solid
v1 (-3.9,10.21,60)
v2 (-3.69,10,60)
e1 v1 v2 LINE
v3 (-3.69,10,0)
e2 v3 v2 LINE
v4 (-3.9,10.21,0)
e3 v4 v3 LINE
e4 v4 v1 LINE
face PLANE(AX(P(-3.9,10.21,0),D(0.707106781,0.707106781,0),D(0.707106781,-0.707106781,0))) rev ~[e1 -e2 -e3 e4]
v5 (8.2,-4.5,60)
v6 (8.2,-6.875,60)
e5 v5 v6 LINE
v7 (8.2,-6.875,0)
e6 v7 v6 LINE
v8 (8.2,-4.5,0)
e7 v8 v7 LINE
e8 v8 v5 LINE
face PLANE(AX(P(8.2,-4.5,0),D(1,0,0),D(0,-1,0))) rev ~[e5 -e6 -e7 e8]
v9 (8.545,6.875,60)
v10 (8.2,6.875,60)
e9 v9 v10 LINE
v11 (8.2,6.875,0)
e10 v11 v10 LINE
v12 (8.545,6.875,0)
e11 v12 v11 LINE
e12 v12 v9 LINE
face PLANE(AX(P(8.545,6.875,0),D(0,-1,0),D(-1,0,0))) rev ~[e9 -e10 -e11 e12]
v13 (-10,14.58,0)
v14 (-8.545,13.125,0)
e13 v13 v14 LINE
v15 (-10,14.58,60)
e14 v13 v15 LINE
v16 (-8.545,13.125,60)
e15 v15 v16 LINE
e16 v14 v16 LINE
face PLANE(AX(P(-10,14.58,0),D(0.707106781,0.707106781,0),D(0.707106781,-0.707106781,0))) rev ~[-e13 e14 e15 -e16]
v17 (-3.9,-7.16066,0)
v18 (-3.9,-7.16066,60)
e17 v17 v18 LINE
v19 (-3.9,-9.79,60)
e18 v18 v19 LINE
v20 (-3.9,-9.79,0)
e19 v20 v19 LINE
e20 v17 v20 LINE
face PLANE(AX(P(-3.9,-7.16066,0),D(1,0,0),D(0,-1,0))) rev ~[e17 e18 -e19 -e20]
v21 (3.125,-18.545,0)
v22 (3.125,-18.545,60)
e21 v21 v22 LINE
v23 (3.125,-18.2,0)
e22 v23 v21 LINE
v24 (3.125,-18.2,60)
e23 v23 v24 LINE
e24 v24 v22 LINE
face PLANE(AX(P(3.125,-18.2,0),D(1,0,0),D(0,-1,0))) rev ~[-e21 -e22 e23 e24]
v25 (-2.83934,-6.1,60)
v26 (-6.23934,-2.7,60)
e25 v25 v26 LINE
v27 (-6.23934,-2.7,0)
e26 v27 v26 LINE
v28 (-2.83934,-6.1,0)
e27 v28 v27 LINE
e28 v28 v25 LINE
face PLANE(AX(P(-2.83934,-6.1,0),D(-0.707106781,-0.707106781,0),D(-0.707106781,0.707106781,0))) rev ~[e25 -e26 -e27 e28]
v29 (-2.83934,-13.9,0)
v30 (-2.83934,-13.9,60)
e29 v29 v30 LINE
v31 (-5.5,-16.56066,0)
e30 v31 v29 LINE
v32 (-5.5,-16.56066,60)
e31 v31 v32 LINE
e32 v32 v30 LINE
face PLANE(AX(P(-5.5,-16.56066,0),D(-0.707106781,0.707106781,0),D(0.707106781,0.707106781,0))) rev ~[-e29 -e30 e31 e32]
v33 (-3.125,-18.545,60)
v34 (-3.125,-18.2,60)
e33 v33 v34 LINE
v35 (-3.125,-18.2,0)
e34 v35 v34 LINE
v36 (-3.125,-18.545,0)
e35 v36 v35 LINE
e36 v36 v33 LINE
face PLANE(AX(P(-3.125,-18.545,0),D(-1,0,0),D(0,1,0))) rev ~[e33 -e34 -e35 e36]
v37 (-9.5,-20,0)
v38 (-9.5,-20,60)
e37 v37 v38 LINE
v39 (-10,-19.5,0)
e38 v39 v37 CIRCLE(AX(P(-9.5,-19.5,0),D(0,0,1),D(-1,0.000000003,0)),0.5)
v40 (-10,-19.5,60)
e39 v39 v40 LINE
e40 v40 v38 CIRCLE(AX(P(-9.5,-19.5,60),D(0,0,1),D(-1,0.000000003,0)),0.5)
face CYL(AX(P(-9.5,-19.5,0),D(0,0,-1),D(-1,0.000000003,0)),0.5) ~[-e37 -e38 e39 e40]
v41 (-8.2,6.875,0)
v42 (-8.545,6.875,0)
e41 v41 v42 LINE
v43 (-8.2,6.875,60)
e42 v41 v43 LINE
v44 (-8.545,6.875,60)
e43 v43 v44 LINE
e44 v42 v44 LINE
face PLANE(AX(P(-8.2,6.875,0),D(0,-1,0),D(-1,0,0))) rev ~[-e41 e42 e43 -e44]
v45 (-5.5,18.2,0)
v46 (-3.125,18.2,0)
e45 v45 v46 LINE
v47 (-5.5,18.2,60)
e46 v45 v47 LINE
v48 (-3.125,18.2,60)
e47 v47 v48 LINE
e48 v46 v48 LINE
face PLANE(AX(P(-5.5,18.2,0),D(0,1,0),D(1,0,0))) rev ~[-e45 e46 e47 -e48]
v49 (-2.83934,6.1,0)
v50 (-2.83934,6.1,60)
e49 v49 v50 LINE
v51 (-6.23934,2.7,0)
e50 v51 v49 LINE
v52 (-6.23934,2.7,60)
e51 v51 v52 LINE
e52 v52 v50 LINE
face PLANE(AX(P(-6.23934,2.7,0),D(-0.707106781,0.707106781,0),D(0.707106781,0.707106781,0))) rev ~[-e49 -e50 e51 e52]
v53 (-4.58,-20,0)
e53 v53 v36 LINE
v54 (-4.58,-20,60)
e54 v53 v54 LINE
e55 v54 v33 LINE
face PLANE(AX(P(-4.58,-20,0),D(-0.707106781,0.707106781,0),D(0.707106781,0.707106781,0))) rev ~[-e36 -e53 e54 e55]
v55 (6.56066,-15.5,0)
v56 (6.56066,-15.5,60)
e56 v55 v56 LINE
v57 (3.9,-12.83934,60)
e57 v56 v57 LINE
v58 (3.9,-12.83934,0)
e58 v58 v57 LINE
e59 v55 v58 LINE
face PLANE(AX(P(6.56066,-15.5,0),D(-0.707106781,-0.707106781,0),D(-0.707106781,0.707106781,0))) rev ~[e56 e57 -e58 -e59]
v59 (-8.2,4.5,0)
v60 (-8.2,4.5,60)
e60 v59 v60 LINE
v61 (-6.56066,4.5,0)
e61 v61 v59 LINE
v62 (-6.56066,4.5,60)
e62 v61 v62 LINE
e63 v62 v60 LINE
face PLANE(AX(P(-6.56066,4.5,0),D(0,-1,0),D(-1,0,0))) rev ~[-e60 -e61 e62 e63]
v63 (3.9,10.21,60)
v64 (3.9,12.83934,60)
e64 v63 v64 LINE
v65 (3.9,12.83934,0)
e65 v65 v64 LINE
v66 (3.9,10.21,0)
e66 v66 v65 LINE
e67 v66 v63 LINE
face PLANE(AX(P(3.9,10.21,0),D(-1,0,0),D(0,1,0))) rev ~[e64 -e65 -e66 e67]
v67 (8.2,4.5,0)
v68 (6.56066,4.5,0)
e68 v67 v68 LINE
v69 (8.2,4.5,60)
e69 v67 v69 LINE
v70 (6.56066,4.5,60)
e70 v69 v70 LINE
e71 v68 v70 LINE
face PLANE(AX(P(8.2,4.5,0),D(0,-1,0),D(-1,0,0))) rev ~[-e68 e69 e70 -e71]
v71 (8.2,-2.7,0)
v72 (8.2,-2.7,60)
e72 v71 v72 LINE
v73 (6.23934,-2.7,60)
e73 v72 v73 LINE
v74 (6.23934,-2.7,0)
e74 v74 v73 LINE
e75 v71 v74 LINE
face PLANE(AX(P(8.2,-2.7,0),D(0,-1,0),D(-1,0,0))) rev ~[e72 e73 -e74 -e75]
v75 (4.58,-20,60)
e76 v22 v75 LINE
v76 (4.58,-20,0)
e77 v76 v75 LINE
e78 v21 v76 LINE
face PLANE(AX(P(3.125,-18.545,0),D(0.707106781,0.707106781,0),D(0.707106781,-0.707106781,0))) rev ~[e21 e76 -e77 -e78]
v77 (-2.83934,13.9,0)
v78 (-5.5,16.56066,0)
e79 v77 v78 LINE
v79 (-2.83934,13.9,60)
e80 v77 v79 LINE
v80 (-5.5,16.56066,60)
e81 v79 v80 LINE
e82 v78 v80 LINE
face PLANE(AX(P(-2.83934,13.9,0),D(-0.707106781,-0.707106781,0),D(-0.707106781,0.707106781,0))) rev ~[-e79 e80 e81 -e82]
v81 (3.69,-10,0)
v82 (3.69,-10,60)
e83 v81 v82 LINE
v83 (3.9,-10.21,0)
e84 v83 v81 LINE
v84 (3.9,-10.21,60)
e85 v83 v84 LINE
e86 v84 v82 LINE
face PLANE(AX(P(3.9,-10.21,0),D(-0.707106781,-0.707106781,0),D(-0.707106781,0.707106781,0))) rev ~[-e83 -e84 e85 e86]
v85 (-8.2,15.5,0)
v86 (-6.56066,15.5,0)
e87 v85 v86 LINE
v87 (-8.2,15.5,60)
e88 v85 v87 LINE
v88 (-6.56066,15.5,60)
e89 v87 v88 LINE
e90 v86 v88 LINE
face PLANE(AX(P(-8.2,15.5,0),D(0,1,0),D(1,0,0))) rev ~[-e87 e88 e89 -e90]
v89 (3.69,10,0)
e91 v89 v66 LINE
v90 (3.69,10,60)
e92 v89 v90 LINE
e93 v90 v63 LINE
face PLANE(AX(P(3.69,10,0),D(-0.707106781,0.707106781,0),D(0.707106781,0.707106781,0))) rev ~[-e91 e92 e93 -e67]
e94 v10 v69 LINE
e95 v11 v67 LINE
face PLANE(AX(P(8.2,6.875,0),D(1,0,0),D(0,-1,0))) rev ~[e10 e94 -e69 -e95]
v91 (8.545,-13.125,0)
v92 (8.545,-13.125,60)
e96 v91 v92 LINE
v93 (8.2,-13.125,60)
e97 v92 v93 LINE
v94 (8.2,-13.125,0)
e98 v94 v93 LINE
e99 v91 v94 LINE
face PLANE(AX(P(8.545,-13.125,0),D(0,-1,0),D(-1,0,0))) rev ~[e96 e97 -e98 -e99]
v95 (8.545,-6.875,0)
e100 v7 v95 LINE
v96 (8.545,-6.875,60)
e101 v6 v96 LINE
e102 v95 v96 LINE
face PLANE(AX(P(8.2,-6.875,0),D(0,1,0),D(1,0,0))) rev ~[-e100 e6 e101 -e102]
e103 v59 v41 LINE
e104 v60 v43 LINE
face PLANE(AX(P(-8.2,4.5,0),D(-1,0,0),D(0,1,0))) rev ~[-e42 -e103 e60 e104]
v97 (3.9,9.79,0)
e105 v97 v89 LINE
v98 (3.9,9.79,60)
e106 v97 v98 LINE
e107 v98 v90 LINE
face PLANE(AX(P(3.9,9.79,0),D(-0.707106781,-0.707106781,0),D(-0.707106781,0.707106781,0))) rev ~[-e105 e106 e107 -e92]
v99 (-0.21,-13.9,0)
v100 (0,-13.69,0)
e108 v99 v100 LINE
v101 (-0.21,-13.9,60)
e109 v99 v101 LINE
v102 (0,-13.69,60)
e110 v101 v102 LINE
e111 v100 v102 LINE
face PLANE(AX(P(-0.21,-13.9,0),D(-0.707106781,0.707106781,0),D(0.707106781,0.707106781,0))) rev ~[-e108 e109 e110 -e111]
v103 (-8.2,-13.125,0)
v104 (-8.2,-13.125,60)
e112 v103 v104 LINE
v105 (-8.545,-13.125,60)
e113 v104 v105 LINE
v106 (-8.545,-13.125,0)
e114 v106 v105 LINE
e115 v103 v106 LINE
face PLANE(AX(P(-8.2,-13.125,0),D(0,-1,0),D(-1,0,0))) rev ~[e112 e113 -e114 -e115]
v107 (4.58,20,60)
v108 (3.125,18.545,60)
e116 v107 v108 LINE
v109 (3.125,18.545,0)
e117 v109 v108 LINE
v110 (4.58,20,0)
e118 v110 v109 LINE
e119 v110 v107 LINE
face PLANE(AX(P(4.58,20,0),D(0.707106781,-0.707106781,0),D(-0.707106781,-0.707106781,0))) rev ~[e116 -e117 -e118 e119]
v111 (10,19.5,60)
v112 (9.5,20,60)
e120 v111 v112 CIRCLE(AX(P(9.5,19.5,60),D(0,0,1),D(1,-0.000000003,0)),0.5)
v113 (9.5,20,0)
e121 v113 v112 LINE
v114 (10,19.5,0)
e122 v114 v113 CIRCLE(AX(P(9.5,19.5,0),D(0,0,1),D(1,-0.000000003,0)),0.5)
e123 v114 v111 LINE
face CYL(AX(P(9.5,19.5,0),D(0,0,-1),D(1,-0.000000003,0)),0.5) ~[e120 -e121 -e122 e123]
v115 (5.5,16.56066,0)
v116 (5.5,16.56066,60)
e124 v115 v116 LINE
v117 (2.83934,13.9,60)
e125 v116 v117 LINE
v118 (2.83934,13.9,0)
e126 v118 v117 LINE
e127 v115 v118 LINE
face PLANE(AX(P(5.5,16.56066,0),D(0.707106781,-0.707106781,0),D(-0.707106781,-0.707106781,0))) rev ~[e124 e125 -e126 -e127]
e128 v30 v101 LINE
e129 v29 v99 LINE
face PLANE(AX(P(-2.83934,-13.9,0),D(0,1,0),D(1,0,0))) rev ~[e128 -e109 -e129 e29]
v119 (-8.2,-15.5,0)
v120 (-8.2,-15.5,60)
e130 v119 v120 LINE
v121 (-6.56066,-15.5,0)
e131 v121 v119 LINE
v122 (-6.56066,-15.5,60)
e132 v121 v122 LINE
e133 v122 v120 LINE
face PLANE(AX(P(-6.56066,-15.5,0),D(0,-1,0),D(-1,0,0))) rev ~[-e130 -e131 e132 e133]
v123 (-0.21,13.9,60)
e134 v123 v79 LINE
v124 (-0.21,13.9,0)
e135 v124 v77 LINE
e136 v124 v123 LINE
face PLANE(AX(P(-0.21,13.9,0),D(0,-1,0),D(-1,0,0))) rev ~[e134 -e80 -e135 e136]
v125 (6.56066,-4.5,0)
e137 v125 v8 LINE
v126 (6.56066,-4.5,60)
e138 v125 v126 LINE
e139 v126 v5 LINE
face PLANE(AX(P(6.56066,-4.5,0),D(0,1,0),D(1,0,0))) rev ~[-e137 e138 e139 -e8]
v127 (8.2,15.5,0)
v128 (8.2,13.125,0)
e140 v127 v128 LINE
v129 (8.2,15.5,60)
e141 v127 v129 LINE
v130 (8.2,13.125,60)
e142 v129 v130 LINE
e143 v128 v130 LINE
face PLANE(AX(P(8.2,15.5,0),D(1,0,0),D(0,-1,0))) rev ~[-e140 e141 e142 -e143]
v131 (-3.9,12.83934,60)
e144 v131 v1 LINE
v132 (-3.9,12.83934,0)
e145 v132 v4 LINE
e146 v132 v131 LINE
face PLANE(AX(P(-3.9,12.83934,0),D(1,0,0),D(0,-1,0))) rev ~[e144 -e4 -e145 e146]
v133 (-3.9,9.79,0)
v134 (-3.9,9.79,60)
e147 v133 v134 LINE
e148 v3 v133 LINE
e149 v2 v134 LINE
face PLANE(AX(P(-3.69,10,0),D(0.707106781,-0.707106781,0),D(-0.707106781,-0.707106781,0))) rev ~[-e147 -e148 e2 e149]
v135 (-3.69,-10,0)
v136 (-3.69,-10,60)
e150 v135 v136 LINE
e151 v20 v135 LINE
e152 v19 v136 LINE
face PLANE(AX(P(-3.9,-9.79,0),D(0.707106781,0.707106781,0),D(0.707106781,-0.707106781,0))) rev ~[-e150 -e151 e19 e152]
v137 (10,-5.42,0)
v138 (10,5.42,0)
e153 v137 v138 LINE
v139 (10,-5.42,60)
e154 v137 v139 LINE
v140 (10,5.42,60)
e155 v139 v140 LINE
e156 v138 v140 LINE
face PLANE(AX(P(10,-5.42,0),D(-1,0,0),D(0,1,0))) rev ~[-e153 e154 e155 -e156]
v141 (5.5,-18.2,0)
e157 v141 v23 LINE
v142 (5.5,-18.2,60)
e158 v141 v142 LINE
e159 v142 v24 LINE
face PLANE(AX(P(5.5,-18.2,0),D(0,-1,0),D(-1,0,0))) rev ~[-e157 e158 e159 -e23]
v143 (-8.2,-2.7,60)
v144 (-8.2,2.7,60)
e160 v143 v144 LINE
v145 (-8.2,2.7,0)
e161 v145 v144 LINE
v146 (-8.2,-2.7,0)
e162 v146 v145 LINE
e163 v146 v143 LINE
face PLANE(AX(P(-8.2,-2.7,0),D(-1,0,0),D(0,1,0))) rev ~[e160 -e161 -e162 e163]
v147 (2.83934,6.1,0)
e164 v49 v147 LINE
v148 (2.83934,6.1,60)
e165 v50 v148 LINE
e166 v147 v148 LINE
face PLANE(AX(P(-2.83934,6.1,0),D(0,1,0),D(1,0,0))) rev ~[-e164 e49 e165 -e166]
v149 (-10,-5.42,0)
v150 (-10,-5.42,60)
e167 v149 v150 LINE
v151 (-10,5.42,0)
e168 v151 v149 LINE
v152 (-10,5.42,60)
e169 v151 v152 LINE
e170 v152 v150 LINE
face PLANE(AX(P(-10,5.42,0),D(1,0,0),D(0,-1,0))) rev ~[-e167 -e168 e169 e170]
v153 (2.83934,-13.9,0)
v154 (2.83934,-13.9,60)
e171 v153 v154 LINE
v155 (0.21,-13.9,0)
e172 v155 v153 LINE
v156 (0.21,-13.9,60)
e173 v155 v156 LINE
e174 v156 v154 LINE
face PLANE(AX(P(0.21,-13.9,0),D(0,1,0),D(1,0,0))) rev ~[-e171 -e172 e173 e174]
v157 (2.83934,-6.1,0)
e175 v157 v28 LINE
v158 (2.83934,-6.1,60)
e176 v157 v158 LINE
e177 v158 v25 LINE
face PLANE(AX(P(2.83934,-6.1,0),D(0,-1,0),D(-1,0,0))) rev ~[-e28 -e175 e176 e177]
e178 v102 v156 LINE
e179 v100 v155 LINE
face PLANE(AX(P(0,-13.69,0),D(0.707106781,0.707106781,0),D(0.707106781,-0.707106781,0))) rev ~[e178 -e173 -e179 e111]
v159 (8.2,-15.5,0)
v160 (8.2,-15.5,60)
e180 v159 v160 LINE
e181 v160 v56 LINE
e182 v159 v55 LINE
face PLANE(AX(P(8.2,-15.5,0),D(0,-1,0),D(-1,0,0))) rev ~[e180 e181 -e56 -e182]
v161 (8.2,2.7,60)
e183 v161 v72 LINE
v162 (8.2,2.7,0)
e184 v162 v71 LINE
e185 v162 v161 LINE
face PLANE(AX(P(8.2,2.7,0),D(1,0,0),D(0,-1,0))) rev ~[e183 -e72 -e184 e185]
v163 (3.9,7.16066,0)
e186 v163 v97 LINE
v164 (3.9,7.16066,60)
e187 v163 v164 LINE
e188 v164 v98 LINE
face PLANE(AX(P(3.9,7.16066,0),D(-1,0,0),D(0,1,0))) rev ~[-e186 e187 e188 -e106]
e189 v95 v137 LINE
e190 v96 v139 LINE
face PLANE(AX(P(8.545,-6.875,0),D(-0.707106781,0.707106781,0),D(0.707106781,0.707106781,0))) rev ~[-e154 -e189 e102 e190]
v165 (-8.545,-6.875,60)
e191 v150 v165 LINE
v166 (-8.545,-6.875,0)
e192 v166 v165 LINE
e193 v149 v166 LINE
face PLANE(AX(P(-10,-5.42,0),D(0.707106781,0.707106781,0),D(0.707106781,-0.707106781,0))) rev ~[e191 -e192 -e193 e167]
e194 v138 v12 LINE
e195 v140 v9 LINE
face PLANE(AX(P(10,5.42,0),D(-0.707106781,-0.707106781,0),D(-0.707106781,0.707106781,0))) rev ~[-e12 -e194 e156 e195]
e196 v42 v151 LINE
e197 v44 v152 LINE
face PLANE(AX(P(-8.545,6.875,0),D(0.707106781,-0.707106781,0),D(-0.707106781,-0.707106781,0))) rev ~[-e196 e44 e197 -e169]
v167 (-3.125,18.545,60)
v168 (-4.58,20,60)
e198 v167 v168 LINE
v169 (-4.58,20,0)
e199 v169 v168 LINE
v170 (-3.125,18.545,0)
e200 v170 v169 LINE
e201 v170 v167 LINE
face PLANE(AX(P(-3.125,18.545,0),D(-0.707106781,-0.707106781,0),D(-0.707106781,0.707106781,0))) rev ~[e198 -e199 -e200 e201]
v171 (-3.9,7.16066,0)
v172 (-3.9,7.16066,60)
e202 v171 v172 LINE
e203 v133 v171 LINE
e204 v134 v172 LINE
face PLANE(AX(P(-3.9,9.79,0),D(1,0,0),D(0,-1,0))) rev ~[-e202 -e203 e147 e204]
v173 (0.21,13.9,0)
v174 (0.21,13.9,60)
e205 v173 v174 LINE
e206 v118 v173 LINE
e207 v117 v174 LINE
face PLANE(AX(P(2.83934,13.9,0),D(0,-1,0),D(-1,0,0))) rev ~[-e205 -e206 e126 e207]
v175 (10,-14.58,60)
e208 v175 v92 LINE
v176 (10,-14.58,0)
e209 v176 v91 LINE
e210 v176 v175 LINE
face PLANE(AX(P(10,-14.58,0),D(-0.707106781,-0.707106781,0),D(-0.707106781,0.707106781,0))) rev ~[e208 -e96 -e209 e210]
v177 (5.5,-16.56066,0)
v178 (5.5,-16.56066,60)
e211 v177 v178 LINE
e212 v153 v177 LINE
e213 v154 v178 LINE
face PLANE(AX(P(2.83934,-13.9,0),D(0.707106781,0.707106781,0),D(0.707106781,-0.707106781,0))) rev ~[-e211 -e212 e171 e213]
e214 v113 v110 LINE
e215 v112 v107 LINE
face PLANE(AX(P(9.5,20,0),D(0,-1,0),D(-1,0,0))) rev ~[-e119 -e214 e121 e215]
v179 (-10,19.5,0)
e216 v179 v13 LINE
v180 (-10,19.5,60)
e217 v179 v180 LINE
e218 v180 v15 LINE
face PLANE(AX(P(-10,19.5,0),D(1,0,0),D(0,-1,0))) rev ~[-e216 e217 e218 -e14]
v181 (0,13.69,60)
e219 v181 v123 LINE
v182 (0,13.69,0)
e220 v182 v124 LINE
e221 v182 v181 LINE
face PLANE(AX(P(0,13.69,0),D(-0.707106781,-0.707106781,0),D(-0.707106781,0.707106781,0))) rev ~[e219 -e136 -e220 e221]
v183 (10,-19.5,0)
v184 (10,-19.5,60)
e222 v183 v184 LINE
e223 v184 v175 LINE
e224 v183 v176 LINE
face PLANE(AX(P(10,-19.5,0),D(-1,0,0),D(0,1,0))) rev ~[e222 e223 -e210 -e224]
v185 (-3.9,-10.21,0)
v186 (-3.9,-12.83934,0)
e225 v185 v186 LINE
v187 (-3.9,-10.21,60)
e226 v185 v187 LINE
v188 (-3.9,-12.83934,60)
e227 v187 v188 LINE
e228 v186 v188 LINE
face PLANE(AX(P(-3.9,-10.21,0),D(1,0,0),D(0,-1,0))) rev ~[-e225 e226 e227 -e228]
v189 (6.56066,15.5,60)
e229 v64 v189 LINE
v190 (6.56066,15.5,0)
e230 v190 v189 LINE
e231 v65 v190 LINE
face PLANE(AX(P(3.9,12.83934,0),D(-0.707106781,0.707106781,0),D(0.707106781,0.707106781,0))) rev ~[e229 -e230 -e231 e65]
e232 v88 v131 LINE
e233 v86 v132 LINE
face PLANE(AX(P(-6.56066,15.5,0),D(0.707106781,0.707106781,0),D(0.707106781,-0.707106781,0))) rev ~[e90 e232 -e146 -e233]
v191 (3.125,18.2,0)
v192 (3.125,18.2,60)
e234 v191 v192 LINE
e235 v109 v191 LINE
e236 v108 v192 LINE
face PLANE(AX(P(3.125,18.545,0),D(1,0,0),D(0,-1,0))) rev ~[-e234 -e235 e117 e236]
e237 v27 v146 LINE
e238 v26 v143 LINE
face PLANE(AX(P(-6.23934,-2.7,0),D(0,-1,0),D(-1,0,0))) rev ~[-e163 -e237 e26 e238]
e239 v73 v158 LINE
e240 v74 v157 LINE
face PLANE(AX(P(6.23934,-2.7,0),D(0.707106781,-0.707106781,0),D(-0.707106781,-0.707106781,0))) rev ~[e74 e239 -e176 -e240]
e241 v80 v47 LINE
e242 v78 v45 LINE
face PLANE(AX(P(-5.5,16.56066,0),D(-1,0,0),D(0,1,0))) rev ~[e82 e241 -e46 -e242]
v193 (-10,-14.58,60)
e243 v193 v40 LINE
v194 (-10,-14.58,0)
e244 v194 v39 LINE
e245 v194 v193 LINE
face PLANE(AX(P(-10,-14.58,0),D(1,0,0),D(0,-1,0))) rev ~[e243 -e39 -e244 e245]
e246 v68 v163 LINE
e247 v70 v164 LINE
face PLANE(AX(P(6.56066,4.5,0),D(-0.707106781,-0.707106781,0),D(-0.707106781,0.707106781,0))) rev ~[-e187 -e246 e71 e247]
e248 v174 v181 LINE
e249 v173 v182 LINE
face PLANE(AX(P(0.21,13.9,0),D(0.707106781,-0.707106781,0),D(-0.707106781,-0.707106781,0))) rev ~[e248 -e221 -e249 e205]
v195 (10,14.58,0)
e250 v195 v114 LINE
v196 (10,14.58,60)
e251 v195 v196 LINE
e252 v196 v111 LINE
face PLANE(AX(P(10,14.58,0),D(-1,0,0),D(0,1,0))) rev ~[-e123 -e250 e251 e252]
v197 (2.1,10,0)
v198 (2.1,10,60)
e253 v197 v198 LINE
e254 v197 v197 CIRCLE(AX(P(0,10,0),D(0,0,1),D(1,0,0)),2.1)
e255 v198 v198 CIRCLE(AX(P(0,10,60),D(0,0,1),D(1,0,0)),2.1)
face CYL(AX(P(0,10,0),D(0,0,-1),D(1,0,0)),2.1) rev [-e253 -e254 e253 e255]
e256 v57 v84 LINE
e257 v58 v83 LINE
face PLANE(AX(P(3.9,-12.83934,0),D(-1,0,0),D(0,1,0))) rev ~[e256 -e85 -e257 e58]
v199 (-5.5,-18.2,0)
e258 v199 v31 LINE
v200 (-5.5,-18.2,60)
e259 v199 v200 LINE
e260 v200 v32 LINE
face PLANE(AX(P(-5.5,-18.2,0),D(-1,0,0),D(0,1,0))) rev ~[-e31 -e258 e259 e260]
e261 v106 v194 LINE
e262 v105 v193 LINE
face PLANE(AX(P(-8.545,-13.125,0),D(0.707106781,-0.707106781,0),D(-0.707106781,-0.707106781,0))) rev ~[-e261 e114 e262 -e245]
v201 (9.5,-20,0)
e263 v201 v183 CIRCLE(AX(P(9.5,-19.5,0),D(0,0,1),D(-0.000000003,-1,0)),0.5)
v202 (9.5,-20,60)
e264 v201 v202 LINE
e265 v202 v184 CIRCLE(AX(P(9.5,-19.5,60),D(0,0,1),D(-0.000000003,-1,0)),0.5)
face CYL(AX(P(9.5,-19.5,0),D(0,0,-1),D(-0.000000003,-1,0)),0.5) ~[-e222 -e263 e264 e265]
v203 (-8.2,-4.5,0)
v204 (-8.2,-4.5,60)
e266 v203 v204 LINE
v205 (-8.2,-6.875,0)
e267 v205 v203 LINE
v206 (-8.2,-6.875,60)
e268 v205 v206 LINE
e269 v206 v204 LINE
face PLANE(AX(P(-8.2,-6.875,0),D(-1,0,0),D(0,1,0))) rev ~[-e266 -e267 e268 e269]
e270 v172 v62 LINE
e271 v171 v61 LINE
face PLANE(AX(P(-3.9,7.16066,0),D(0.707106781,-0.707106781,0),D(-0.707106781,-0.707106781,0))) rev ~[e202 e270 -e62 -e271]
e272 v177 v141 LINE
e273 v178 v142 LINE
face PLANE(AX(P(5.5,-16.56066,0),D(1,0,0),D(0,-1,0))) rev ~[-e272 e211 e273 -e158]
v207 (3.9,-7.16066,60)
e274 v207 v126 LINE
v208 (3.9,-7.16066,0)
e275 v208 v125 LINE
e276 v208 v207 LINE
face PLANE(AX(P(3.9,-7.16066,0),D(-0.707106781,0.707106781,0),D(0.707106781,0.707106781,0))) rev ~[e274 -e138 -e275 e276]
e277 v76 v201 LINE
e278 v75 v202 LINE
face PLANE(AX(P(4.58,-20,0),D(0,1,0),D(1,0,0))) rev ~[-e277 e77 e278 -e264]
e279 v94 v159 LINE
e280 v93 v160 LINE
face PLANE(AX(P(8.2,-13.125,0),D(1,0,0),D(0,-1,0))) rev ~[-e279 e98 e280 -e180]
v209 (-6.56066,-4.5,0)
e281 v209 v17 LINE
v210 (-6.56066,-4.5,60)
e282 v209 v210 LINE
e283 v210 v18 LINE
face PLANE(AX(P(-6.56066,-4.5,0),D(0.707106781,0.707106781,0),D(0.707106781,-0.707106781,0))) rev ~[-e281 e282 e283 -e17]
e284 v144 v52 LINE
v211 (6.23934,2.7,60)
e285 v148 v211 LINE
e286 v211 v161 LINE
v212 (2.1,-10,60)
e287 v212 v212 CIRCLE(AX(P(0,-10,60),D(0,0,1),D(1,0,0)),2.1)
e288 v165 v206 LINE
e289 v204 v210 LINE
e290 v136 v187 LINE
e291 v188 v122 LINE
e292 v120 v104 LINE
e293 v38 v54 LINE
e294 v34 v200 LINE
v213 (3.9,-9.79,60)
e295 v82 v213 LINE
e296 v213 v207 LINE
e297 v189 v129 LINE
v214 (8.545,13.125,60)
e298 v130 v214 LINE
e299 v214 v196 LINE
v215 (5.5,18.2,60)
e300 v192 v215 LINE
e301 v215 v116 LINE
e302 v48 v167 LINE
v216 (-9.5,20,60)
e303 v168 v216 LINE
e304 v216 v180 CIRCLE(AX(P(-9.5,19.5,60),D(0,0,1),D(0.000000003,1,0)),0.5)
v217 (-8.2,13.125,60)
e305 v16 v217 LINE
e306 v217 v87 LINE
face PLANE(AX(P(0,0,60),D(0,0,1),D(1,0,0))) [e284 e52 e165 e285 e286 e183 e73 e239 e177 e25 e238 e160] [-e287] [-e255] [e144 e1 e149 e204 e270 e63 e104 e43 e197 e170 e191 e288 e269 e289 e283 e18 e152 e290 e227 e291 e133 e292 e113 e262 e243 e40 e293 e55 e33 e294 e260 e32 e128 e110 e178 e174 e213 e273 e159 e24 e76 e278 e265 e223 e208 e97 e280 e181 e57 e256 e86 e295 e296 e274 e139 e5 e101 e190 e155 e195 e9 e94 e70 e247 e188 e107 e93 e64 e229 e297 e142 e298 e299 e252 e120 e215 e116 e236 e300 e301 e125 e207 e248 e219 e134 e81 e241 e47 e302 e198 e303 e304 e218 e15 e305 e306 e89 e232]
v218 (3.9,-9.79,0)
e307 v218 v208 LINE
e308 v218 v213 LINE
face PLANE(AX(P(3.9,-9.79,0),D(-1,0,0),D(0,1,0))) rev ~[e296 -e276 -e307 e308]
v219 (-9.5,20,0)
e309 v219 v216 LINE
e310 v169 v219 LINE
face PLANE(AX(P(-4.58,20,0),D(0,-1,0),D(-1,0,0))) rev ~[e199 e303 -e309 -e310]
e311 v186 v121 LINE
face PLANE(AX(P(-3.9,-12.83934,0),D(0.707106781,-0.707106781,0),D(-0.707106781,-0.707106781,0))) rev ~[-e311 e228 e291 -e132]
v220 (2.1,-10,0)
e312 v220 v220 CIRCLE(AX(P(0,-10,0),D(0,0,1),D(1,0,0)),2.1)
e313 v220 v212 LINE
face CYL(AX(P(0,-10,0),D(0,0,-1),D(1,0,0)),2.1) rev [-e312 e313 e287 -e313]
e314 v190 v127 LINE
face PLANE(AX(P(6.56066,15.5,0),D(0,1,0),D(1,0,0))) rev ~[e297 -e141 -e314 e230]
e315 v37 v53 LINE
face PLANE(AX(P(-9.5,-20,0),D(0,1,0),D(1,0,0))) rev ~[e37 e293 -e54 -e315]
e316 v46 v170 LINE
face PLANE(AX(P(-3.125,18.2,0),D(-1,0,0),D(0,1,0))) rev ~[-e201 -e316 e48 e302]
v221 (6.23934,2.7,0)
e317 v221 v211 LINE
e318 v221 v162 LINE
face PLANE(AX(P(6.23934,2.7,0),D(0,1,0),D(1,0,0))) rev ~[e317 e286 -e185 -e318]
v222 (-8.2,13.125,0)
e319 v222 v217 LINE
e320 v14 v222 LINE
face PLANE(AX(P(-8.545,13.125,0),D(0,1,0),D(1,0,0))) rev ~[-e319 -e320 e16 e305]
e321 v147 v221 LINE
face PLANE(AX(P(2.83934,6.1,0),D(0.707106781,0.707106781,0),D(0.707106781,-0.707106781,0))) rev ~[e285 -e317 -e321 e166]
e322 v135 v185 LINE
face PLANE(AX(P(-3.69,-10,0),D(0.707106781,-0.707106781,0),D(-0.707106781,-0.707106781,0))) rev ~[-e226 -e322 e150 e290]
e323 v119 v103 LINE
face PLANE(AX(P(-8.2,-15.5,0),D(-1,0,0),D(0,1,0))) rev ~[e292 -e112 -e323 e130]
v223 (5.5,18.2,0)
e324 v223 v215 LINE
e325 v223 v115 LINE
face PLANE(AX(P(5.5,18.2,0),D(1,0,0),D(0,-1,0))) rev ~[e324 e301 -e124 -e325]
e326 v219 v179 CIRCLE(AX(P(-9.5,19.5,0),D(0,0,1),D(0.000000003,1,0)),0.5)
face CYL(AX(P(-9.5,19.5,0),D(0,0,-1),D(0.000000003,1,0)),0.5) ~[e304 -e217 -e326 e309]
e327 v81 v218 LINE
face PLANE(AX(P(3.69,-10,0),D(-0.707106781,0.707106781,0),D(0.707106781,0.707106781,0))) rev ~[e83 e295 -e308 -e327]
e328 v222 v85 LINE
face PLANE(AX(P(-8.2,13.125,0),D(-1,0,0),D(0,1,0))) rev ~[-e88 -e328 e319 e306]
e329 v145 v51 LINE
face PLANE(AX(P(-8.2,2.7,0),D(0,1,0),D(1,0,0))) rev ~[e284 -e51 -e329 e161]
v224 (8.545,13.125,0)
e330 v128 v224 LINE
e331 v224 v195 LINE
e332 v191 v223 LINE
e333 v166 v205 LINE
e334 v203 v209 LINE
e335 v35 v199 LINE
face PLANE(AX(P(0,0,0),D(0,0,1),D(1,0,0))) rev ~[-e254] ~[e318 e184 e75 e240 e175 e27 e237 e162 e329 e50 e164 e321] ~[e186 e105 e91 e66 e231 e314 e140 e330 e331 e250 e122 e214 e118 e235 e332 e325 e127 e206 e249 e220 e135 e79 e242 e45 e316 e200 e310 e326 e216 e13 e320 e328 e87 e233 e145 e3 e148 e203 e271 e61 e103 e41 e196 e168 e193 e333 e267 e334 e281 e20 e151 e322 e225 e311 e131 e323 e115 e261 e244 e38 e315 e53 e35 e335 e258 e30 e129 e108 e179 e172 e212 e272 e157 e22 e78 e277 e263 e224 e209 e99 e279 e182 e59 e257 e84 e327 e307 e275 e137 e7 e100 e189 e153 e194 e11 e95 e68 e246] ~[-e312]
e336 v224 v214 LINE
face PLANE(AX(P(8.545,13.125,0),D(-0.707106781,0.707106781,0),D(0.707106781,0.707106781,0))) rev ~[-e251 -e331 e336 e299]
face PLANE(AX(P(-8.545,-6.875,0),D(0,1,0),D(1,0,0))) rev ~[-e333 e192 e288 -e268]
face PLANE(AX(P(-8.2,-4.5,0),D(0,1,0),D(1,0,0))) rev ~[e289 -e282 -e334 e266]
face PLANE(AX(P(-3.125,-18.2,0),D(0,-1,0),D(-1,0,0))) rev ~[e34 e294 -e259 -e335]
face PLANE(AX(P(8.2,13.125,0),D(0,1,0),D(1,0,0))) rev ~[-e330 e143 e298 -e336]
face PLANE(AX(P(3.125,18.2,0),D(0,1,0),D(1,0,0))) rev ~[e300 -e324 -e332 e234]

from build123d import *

# Parameters (mm, degrees)
SKETCH1_R           = 2.1
BOSS_EXTRUDE1_DEPTH = 60


with BuildPart() as part:
    # Sketch1 → Boss-Extrude1 (new body)
    with BuildSketch(Plane.XY):
        with BuildLine():
            Line((4.58, -20), (9.5, -20))
            ThreePointArc((9.5, -20), (9.853553391, -19.853553391), (10, -19.5))
            Line((10, -19.5), (10, -14.58))
            Line((10, -14.58), (8.545, -13.125))
            Line((8.545, -13.125), (8.2, -13.125))
            Line((8.2, -13.125), (8.2, -15.5))
            Line((8.2, -15.5), (6.560660172, -15.5))
            Line((6.560660172, -15.5), (3.9, -12.839339828))
            Line((3.9, -12.839339828), (3.9, -10.21))
            Line((3.9, -10.21), (3.69, -10))
            Line((3.69, -10), (3.9, -9.79))
            Line((3.9, -9.79), (3.9, -7.160660172))
            Line((3.9, -7.160660172), (6.560660172, -4.5))
            Line((6.560660172, -4.5), (8.2, -4.5))
            Line((8.2, -4.5), (8.2, -6.875))
            Line((8.2, -6.875), (8.545, -6.875))
            Line((8.545, -6.875), (10, -5.42))
            Line((10, -5.42), (10, 5.42))
            Line((10, 5.42), (8.545, 6.875))
            Line((8.545, 6.875), (8.2, 6.875))
            Line((8.2, 6.875), (8.2, 4.5))
            Line((8.2, 4.5), (6.560660172, 4.5))
            Line((6.560660172, 4.5), (3.9, 7.160660172))
            Line((3.9, 7.160660172), (3.9, 9.79))
            Line((3.9, 9.79), (3.69, 10))
            Line((3.69, 10), (3.9, 10.21))
            Line((3.9, 10.21), (3.9, 12.839339828))
            Line((3.9, 12.839339828), (6.560660172, 15.5))
            Line((6.560660172, 15.5), (8.2, 15.5))
            Line((8.2, 15.5), (8.2, 13.125))
            Line((8.2, 13.125), (8.545, 13.125))
            Line((8.545, 13.125), (10, 14.58))
            Line((10, 14.58), (10, 19.5))
            ThreePointArc((10, 19.5), (9.853553391, 19.853553391), (9.5, 20))
            Line((9.5, 20), (4.58, 20))
            Line((4.58, 20), (3.125, 18.545))
            Line((3.125, 18.545), (3.125, 18.2))
            Line((3.125, 18.2), (5.5, 18.2))
            Line((5.5, 18.2), (5.5, 16.560660172))
            Line((5.5, 16.560660172), (2.839339828, 13.9))
            Line((2.839339828, 13.9), (0.21, 13.9))
            Line((0.21, 13.9), (0, 13.69))
            Line((0, 13.69), (-0.21, 13.9))
            Line((-0.21, 13.9), (-2.839339828, 13.9))
            Line((-2.839339828, 13.9), (-5.5, 16.560660172))
            Line((-5.5, 16.560660172), (-5.5, 18.2))
            Line((-5.5, 18.2), (-3.125, 18.2))
            Line((-3.125, 18.2), (-3.125, 18.545))
            Line((-3.125, 18.545), (-4.58, 20))
            Line((-4.58, 20), (-9.5, 20))
            ThreePointArc((-9.5, 20), (-9.853553391, 19.853553391), (-10, 19.5))
            Line((-10, 19.5), (-10, 14.58))
            Line((-10, 14.58), (-8.545, 13.125))
            Line((-8.545, 13.125), (-8.2, 13.125))
            Line((-8.2, 13.125), (-8.2, 15.5))
            Line((-8.2, 15.5), (-6.560660172, 15.5))
            Line((-6.560660172, 15.5), (-3.9, 12.839339828))
            Line((-3.9, 12.839339828), (-3.9, 10.21))
            Line((-3.9, 10.21), (-3.69, 10))
            Line((-3.69, 10), (-3.9, 9.79))
            Line((-3.9, 9.79), (-3.9, 7.160660172))
            Line((-3.9, 7.160660172), (-6.560660172, 4.5))
            Line((-6.560660172, 4.5), (-8.2, 4.5))
            Line((-8.2, 4.5), (-8.2, 6.875))
            Line((-8.2, 6.875), (-8.545, 6.875))
            Line((-8.545, 6.875), (-10, 5.42))
            Line((-10, 5.42), (-10, -5.42))
            Line((-10, -5.42), (-8.545, -6.875))
            Line((-8.545, -6.875), (-8.2, -6.875))
            Line((-8.2, -6.875), (-8.2, -4.5))
            Line((-8.2, -4.5), (-6.560660172, -4.5))
            Line((-6.560660172, -4.5), (-3.9, -7.160660172))
            Line((-3.9, -7.160660172), (-3.9, -9.79))
            Line((-3.9, -9.79), (-3.69, -10))
            Line((-3.69, -10), (-3.9, -10.21))
            Line((-3.9, -10.21), (-3.9, -12.839339828))
            Line((-3.9, -12.839339828), (-6.560660172, -15.5))
            Line((-6.560660172, -15.5), (-8.2, -15.5))
            Line((-8.2, -15.5), (-8.2, -13.125))
            Line((-8.2, -13.125), (-8.545, -13.125))
            Line((-8.545, -13.125), (-10, -14.58))
            Line((-10, -14.58), (-10, -19.5))
            ThreePointArc((-10, -19.5), (-9.853553391, -19.853553391), (-9.5, -20))
            Line((-9.5, -20), (-4.58, -20))
            Line((-4.58, -20), (-3.125, -18.545))
            Line((-3.125, -18.545), (-3.125, -18.2))
            Line((-3.125, -18.2), (-5.5, -18.2))
            Line((-5.5, -18.2), (-5.5, -16.560660172))
            Line((-5.5, -16.560660172), (-2.839339828, -13.9))
            Line((-2.839339828, -13.9), (-0.21, -13.9))
            Line((-0.21, -13.9), (0, -13.69))
            Line((0, -13.69), (0.21, -13.9))
            Line((0.21, -13.9), (2.839339828, -13.9))
            Line((2.839339828, -13.9), (5.5, -16.560660172))
            Line((5.5, -16.560660172), (5.5, -18.2))
            Line((5.5, -18.2), (3.125, -18.2))
            Line((3.125, -18.2), (3.125, -18.545))
            Line((3.125, -18.545), (4.58, -20))
        make_face()
        with Locations((0, -10)):
            Circle(SKETCH1_R, mode=Mode.SUBTRACT)
        Polygon((-6.239339828, -2.7), (-8.2, -2.7), (-8.2, 2.7), (-6.239339828, 2.7), (-2.839339828, 6.1), (2.839339828, 6.1), (6.239339828, 2.7), (8.2, 2.7), (8.2, -2.7), (6.239339828, -2.7), (2.839339828, -6.1), (-2.839339828, -6.1), align=None, mode=Mode.SUBTRACT)
        with Locations((0, 10)):
            Circle(SKETCH1_R, mode=Mode.SUBTRACT)
    extrude(amount=BOSS_EXTRUDE1_DEPTH)


solid = part.part
